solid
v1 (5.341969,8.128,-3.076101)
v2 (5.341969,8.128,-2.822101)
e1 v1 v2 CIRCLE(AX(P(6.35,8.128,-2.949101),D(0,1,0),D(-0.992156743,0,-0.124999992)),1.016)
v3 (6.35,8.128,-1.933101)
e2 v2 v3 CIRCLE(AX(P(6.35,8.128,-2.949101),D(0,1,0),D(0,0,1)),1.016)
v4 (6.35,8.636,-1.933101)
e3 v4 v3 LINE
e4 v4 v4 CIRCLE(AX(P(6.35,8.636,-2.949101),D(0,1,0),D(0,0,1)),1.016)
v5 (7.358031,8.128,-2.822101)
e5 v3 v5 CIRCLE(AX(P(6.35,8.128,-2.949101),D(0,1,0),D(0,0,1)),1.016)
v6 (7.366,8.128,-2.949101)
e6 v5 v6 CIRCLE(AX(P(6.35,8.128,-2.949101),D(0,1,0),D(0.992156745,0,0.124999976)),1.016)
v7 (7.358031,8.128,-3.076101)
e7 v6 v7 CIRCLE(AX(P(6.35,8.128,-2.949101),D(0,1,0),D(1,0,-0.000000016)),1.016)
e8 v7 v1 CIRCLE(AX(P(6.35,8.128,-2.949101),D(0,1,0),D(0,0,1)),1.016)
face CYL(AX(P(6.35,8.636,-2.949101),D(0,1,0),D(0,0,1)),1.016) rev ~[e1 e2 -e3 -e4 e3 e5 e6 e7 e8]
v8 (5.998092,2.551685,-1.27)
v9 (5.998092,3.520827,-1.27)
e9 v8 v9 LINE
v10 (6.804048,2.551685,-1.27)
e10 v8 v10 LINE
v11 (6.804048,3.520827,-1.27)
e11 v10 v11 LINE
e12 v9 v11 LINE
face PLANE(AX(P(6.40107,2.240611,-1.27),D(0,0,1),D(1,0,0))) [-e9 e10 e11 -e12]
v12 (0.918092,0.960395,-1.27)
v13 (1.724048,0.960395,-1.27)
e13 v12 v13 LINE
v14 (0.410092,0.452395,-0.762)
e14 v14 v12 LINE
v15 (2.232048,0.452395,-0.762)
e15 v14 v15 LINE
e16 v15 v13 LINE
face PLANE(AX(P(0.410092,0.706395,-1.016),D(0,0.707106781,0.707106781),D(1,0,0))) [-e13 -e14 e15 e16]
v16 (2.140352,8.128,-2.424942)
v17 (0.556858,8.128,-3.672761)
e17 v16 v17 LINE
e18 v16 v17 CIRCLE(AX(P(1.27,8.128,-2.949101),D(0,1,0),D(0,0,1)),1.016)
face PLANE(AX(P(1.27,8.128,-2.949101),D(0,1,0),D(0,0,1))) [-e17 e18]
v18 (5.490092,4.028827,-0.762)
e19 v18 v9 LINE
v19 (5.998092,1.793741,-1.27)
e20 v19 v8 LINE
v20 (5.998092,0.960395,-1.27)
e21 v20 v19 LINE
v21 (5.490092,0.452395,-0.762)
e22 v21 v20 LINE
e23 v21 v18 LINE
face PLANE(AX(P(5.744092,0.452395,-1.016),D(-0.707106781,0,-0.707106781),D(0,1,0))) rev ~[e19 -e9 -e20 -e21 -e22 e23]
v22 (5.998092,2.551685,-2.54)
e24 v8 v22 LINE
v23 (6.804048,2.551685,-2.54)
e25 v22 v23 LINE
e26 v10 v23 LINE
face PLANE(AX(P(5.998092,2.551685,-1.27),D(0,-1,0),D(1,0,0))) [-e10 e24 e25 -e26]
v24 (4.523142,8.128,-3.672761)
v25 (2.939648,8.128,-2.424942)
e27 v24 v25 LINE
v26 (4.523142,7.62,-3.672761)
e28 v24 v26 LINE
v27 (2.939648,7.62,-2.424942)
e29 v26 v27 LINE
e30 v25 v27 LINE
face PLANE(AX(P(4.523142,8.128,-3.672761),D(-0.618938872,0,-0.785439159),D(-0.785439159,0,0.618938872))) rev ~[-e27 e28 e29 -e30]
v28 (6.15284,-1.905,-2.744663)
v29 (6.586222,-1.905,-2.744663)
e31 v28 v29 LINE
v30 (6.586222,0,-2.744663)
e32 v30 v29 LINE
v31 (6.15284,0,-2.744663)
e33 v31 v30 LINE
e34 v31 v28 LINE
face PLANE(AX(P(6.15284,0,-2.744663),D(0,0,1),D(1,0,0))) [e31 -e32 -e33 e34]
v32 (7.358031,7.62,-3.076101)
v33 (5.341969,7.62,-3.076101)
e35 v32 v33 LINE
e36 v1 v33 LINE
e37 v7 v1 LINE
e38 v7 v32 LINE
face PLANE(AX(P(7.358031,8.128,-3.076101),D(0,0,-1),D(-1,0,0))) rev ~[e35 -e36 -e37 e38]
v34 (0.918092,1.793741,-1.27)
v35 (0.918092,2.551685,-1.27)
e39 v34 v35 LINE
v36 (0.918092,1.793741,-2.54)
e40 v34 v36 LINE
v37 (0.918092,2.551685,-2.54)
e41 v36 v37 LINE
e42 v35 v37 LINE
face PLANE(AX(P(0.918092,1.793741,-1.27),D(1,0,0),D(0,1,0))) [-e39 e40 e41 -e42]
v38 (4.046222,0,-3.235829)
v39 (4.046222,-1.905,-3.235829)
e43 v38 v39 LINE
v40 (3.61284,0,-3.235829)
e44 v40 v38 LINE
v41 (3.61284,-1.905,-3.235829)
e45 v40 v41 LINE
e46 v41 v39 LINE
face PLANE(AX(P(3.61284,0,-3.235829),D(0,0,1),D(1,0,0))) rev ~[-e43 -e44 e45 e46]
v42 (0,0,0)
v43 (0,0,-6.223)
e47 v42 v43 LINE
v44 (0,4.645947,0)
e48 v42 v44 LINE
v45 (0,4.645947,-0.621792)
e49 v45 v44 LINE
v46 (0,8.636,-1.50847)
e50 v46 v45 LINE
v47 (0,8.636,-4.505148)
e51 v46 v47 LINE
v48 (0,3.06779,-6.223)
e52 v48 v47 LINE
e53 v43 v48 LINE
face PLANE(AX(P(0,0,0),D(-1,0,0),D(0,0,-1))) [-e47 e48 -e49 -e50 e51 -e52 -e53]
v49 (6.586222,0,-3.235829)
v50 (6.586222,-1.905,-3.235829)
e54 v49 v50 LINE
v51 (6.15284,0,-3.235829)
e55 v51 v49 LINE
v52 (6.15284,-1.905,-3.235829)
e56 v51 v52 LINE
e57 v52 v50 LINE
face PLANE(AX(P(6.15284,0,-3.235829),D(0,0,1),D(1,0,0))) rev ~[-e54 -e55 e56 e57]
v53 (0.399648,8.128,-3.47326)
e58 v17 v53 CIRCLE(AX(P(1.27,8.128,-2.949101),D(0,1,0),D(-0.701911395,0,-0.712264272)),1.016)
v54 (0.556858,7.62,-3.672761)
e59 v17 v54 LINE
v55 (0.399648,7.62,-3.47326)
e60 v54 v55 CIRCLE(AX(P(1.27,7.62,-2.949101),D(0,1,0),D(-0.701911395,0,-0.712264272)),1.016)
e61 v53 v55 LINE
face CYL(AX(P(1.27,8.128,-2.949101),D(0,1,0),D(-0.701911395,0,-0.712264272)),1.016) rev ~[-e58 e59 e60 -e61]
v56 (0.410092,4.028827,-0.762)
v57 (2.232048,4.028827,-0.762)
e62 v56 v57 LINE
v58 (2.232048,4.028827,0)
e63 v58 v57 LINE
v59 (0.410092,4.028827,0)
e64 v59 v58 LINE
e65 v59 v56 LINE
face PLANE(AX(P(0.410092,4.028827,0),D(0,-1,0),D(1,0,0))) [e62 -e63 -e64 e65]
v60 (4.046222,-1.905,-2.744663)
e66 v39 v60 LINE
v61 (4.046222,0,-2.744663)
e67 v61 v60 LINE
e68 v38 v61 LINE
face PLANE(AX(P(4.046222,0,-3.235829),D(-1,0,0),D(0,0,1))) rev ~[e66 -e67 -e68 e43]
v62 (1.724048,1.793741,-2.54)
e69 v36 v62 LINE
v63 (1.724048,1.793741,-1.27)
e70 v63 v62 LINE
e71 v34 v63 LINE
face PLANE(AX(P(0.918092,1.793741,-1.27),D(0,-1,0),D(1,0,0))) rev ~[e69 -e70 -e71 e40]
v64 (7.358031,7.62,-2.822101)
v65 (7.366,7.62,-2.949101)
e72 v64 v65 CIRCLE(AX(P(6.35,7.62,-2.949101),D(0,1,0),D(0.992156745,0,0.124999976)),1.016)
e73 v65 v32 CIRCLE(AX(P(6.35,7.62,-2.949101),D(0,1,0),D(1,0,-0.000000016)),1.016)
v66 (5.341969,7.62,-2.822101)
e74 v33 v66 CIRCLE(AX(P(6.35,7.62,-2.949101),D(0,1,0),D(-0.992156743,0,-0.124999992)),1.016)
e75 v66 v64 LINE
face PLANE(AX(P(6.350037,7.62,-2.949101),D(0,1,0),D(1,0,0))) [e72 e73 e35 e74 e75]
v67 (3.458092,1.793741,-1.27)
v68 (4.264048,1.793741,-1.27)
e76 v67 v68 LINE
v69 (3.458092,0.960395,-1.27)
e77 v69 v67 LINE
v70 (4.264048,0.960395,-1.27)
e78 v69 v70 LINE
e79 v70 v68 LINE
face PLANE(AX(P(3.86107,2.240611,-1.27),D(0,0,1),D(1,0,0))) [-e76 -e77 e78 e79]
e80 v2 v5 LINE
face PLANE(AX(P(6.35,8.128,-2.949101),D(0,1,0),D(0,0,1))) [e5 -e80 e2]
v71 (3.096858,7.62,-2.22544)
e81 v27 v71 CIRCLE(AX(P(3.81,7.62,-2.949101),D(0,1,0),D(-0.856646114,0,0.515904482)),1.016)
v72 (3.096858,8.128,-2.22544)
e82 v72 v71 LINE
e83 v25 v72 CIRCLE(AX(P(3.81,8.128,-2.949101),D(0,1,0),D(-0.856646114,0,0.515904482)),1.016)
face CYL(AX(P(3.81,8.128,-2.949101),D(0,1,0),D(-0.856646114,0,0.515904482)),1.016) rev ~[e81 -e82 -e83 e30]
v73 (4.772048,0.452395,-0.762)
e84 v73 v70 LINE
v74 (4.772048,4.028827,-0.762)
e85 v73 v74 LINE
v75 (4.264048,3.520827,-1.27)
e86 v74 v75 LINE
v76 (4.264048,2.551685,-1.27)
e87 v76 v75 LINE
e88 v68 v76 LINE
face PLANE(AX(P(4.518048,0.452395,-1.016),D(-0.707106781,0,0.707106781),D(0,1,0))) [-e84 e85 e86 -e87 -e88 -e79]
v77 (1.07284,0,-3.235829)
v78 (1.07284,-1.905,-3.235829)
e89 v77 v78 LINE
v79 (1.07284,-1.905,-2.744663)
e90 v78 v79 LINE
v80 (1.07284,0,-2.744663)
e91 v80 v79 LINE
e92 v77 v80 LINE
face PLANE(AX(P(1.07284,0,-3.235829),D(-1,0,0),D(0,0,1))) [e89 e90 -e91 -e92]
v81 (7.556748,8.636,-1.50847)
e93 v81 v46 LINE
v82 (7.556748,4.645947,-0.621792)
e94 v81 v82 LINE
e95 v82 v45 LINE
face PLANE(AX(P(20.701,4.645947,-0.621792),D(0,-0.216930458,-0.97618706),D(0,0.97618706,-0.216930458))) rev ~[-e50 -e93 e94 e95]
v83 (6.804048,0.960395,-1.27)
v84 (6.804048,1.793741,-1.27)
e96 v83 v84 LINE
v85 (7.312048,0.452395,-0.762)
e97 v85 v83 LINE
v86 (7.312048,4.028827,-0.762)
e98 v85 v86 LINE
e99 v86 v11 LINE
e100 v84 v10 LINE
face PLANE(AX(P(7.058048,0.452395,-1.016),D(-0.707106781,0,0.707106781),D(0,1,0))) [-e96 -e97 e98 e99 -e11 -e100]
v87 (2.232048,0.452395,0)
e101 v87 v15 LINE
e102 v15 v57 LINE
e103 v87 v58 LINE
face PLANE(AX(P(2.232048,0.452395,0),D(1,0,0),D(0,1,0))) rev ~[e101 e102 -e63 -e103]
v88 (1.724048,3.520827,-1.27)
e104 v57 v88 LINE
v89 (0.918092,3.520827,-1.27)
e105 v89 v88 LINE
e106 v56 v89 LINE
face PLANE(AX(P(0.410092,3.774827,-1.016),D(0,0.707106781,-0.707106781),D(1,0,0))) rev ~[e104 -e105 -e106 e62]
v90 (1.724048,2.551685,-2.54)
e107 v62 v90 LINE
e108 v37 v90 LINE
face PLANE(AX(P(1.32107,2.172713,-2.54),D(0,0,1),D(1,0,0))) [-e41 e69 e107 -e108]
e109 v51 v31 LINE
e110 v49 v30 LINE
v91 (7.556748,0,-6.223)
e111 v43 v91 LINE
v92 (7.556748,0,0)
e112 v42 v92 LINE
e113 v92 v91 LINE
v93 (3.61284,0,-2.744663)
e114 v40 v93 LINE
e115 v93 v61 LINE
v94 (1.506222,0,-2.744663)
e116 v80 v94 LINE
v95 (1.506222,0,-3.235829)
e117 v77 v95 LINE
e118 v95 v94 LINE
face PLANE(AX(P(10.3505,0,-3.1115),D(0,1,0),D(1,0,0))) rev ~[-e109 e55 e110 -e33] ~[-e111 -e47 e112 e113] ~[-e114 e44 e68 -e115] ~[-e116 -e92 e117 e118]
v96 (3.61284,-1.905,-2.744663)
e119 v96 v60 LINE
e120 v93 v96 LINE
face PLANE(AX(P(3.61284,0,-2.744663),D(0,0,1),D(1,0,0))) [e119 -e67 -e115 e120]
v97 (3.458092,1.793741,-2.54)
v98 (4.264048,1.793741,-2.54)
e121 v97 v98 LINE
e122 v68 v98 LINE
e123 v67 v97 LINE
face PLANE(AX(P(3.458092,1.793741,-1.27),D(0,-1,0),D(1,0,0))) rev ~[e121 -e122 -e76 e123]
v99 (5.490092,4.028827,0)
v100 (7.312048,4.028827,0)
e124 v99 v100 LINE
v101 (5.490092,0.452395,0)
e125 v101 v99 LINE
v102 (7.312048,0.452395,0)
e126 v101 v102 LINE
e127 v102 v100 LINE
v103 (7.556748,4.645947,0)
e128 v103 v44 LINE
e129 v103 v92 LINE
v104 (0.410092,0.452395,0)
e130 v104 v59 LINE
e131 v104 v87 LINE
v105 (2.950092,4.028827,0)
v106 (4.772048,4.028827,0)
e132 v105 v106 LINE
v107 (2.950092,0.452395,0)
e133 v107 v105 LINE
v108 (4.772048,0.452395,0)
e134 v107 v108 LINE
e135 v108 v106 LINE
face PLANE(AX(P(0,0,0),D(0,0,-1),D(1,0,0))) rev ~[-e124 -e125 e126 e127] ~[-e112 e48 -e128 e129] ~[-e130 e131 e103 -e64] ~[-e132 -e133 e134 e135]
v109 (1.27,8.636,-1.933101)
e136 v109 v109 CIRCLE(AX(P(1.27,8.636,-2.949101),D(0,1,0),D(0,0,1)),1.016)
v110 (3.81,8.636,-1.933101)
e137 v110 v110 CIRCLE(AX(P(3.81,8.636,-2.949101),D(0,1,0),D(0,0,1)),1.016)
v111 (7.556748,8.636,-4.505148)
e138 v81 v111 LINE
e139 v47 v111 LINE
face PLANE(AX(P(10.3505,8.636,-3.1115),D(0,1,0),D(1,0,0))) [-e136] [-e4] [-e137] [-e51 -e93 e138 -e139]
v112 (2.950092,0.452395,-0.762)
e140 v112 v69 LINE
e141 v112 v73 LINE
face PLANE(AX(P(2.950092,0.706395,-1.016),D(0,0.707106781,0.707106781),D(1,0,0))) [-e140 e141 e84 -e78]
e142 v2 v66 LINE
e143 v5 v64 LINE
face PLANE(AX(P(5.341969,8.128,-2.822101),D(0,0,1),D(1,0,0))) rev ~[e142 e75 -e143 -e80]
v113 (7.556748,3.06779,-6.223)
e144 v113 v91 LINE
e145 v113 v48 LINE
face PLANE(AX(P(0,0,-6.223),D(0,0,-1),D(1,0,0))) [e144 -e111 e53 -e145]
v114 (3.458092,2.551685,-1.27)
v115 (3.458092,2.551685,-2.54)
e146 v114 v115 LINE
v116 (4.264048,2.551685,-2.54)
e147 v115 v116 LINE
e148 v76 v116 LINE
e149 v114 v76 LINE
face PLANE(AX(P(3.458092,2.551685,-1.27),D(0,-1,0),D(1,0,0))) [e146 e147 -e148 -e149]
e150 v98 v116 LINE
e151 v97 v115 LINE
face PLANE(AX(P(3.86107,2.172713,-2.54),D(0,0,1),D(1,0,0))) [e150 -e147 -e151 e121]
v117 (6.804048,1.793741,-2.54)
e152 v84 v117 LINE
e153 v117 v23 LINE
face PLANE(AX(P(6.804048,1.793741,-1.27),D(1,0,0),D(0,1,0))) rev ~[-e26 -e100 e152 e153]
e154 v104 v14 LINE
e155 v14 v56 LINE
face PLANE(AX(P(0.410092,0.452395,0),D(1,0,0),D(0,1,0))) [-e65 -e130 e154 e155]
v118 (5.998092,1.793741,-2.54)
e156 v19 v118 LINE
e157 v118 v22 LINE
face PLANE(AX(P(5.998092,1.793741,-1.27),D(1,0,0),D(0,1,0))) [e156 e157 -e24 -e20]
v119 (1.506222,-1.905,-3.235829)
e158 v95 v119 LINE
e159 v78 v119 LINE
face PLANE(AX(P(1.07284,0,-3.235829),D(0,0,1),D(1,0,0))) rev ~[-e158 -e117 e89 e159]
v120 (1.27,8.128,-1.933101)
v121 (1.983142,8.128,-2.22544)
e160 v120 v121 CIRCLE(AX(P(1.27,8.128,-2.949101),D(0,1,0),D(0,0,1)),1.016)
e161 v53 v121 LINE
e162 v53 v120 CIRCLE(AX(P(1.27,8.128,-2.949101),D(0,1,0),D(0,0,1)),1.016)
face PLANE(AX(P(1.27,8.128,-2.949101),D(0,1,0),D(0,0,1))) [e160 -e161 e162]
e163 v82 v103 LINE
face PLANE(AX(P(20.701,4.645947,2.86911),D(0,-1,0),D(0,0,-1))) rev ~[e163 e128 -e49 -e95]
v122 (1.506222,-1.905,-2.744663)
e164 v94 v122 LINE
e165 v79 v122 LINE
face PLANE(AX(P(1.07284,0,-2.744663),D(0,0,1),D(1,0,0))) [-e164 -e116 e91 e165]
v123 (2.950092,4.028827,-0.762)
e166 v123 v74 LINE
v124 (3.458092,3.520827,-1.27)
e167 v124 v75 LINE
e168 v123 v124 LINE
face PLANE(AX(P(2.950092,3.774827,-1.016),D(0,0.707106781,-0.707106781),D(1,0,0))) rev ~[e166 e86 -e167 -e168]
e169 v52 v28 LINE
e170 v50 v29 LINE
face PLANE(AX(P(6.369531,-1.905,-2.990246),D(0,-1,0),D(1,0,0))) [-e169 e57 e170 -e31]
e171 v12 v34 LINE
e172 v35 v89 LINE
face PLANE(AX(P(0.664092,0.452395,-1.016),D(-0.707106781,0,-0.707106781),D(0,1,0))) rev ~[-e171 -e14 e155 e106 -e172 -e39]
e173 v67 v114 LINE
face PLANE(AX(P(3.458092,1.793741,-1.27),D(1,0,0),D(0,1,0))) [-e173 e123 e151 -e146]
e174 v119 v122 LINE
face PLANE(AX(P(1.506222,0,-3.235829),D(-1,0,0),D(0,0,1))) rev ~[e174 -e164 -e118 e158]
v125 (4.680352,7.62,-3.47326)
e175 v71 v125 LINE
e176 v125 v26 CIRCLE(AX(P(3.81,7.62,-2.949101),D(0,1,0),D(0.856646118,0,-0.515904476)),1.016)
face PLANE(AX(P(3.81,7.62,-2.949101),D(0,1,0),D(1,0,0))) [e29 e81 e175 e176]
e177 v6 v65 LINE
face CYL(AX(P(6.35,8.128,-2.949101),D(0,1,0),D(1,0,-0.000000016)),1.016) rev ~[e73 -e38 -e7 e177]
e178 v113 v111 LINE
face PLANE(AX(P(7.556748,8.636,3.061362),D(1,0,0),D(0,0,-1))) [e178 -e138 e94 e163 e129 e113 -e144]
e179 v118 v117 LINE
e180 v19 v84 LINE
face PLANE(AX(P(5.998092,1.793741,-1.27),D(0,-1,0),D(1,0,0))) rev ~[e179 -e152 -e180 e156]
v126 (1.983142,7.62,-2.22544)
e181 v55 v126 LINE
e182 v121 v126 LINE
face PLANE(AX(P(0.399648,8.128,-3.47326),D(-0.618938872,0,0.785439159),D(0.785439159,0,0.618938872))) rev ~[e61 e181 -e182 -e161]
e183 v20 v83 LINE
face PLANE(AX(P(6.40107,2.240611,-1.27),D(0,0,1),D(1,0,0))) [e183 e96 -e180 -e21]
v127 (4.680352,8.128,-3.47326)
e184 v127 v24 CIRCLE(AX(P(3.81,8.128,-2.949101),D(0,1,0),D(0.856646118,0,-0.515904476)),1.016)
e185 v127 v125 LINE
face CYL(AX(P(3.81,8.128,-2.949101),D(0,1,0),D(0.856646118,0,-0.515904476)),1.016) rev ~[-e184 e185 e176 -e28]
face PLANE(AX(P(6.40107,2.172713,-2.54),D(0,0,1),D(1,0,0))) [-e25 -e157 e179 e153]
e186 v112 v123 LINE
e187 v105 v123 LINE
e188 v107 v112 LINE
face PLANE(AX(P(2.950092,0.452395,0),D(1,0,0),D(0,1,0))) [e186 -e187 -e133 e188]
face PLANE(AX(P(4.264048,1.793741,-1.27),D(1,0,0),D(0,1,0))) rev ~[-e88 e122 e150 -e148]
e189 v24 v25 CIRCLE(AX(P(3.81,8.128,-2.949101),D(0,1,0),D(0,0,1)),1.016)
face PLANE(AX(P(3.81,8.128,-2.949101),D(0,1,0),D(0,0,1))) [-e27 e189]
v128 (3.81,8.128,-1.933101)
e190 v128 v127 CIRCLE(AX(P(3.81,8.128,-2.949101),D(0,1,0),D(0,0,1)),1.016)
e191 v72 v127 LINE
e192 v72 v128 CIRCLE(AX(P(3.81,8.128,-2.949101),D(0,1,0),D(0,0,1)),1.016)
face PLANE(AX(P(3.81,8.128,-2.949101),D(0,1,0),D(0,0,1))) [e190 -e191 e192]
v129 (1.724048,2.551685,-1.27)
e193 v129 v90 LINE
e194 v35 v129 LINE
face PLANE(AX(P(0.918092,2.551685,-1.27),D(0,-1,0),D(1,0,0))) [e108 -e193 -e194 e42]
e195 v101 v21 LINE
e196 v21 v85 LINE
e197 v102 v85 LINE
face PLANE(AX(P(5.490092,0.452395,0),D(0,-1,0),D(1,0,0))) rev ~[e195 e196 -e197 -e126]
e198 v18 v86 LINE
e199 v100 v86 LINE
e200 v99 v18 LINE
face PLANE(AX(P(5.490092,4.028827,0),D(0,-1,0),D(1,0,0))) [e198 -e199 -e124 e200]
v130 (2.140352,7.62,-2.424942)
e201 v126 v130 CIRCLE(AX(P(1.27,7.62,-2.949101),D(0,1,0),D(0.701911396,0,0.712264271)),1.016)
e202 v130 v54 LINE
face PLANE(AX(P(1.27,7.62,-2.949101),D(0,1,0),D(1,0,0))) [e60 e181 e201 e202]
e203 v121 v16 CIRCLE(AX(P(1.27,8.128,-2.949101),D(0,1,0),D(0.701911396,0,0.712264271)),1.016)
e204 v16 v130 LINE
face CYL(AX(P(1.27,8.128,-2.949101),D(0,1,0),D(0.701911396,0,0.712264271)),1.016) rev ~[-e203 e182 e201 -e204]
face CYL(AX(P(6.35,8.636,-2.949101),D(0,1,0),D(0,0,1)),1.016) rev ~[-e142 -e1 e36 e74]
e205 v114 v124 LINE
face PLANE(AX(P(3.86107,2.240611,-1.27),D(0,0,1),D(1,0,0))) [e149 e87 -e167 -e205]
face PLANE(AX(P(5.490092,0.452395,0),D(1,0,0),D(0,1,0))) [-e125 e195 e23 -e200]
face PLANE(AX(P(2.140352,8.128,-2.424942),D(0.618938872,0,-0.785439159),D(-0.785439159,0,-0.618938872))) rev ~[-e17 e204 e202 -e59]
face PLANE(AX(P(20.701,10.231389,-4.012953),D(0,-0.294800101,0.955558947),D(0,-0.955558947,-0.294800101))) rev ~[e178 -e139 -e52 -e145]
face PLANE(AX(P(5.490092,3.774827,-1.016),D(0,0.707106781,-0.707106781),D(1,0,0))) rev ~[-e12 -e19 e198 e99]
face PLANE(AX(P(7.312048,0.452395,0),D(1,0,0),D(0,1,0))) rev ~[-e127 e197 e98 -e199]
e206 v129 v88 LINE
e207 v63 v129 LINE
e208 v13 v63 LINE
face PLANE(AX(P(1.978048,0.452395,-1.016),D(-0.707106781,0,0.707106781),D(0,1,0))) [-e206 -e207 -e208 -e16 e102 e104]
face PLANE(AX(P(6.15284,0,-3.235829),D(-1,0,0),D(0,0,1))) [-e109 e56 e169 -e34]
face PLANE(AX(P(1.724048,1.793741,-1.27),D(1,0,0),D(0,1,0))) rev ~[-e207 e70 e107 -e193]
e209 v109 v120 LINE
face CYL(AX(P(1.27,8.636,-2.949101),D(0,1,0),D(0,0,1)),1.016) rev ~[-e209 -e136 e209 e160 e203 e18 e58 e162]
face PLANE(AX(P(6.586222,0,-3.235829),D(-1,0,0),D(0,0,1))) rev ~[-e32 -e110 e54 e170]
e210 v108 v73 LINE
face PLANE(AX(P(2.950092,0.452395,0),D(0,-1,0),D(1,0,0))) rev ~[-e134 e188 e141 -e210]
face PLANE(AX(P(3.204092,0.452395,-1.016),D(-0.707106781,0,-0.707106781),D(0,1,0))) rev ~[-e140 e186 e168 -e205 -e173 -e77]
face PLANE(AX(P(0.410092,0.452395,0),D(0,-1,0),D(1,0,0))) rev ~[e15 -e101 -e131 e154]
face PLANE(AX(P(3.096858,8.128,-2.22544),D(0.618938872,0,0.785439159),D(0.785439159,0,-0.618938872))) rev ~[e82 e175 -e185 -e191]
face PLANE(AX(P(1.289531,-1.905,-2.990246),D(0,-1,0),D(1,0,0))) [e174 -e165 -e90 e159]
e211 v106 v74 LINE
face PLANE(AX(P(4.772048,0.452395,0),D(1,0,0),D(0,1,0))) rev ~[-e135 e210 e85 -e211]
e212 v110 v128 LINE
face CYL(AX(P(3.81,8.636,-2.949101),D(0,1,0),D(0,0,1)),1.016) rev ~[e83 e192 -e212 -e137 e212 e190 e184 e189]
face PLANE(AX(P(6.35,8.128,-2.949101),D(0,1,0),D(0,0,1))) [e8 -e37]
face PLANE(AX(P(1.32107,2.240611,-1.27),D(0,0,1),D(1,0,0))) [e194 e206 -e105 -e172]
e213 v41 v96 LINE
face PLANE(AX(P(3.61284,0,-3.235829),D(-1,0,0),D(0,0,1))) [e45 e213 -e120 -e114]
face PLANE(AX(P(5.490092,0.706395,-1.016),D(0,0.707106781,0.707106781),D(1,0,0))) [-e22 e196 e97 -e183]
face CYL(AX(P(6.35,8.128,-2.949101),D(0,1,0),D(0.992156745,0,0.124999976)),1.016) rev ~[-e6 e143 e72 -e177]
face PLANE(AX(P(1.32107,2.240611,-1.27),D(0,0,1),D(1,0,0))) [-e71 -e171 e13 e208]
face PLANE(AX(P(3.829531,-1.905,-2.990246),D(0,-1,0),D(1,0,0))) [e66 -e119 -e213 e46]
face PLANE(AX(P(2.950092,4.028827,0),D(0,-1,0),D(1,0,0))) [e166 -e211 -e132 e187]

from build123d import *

# Parameters (mm, degrees)
SKETCH1_W          = 20.701
SKETCH1_H          = 6.223
EXTRUDE1_DEPTH     = 8.636
CUT_EXTRUDE1_DEPTH = 25.4
CUT_EXTRUDE2_DEPTH = 25.4
SKETCH4_R          = 1.016
CUT_EXTRUDE3_DEPTH = 0.508
CUT_EXTRUDE4_DEPTH = 0.508
SKETCH6_W          = 1.82195604
SKETCH6_H          = 3.576432228
CUT_EXTRUDE5_DEPTH = 1.27
CHAMFER1_SIZE      = 0.508
SKETCH7_W          = 0.80595604
SKETCH7_H          = 0.757943843
CUT_EXTRUDE6_DEPTH = 1.27
SKETCH8_W          = 0.433382436
SKETCH8_H          = 0.491166761
EXTRUDE2_DEPTH     = 1.905
SKETCH9_W          = 13.835725518
SKETCH9_H          = 11.068580414
CUT_EXTRUDE7_DEPTH = 25.4


with BuildPart() as part:
    # Sketch1 → Extrude1 (new body)
    with BuildSketch(Plane(origin=(0, 0, 0), x_dir=(1, 0, 0), z_dir=(0, 1, 0))):
        with Locations((10.3505, 3.1115)):
            Rectangle(SKETCH1_W, SKETCH1_H)
    extrude(amount=EXTRUDE1_DEPTH)

    # Sketch2 → Cut-Extrude1 (cut)
    with BuildSketch(Plane(origin=(20.701, 0, 0), x_dir=(0, 0, -1), z_dir=(1, 0, 0))):
        Polygon((-2.869110069, 4.645946632), (0.62179162, 4.645946632), (2.217632392, 11.827230107), (-2.869110069, 11.827230107), align=None)
    extrude(amount=-CUT_EXTRUDE1_DEPTH, mode=Mode.SUBTRACT)

    # Sketch3 → Cut-Extrude2 (cut)
    with BuildSketch(Plane(origin=(20.701, 0, 0), x_dir=(0, 0, -1), z_dir=(1, 0, 0))):
        Polygon((4.012953261, 10.231389335), (6.905414661, 0.855824797), (9.199435771, 0.855824797), (9.199435771, 10.231389335), align=None)
    extrude(amount=-CUT_EXTRUDE2_DEPTH, mode=Mode.SUBTRACT)

    # Sketch4 → Cut-Extrude3 (cut)
    with BuildSketch(Plane(origin=(0, 8.636, 0), x_dir=(1, 0, 0), z_dir=(0, 1, 0))):
        with Locations(Location((1.27, 2.949100672, 0), (0, 0, 270))):
            Circle(SKETCH4_R)
        with Locations(Location((3.81, 2.949100672, 0), (0, 0, 270))):
            Circle(SKETCH4_R)
        with Locations(Location((6.35, 2.949100672, 0), (0, 0, 270))):
            Circle(SKETCH4_R)
        with Locations(Location((8.89, 2.949100672, 0), (0, 0, 270))):
            Circle(SKETCH4_R)
        with Locations(Location((11.43, 2.949100672, 0), (0, 0, 270))):
            Circle(SKETCH4_R)
        with Locations(Location((13.97, 2.949100672, 0), (0, 0, 270))):
            Circle(SKETCH4_R)
        with Locations(Location((16.51, 2.949100672, 0), (0, 0, 270))):
            Circle(SKETCH4_R)
        with Locations(Location((19.05, 2.949100672, 0), (0, 0, 270))):
            Circle(SKETCH4_R)
    extrude(amount=-CUT_EXTRUDE3_DEPTH, mode=Mode.SUBTRACT)

    # Sketch5 → Cut-Extrude4 (cut)
    with BuildSketch(Plane(origin=(0, 8.128, 0), x_dir=(1, 0, 0), z_dir=(0, 1, 0))):
        with BuildLine():
            ThreePointArc((0.55685802, 3.67276117), (0.471993814, 3.577942566), (0.399647546, 3.473259623))
            Line((0.399647546, 3.473259623), (1.98314198, 2.225440174))
            ThreePointArc((1.98314198, 2.225440174), (2.068006186, 2.320258778), (2.140352454, 2.42494172))
            Line((2.140352454, 2.42494172), (0.55685802, 3.67276117))
        make_face()
        with BuildLine():
            ThreePointArc((2.939647546, 2.42494172), (3.011993814, 2.320258778), (3.09685802, 2.225440174))
            Line((3.09685802, 2.225440174), (4.680352454, 3.473259623))
            ThreePointArc((4.680352454, 3.473259623), (4.608006186, 3.577942566), (4.52314198, 3.67276117))
            Line((4.52314198, 3.67276117), (2.939647546, 2.42494172))
        make_face()
        with BuildLine():
            ThreePointArc((5.34196875, 3.076100672), (5.334, 2.949100672), (5.34196875, 2.822100672))
            Line((5.34196875, 2.822100672), (7.35803125, 2.822100672))
            ThreePointArc((7.35803125, 2.822100672), (7.364005855, 2.885475793), (7.366, 2.949100672))
            ThreePointArc((7.366, 2.949100672), (7.364005855, 3.012725551), (7.35803125, 3.076100672))
            Line((7.35803125, 3.076100672), (5.34196875, 3.076100672))
        make_face()
        with BuildLine():
            ThreePointArc((8.458529789, 2.041483422), (8.576688012, 1.994233554), (8.699870069, 1.9622946))
            Line((8.699870069, 1.9622946), (9.321470211, 3.856717921))
            ThreePointArc((9.321470211, 3.856717921), (9.203311988, 3.90396779), (9.080129931, 3.935906744))
            Line((9.080129931, 3.935906744), (8.458529789, 2.041483422))
        make_face()
        with BuildLine():
            ThreePointArc((11.557, 3.957131921), (11.43, 3.965100672), (11.303, 3.957131921))
            Line((11.303, 3.957131921), (11.303, 1.941069422))
            ThreePointArc((11.303, 1.941069422), (11.43, 1.933100672), (11.557, 1.941069422))
            Line((11.557, 1.941069422), (11.557, 3.957131921))
        make_face()
        with BuildLine():
            ThreePointArc((13.060727808, 3.402399778), (13.011197076, 3.285185412), (12.976706622, 3.162699047))
            Line((12.976706622, 3.162699047), (14.879272192, 2.495801565))
            ThreePointArc((14.879272192, 2.495801565), (14.928802924, 2.613015931), (14.963293378, 2.735502296))
            Line((14.963293378, 2.735502296), (13.060727808, 3.402399778))
        make_face()
        with BuildLine():
            ThreePointArc((16.944941036, 3.867295801), (16.826755289, 3.914461789), (16.703600756, 3.946484624))
            Line((16.703600756, 3.946484624), (16.075058964, 2.030905542))
            ThreePointArc((16.075058964, 2.030905542), (16.193244711, 1.983739555), (16.316399244, 1.95171672))
            Line((16.316399244, 1.95171672), (16.944941036, 3.867295801))
        make_face()
        with BuildLine():
            ThreePointArc((18.349819557, 3.662547267), (18.264852019, 3.567810091), (18.192609083, 3.463045721))
            Line((18.192609083, 3.463045721), (19.750180443, 2.235654077))
            ThreePointArc((19.750180443, 2.235654077), (19.835147981, 2.330391253), (19.907390917, 2.435155623))
            Line((19.907390917, 2.435155623), (18.349819557, 3.662547267))
        make_face()
    extrude(amount=-CUT_EXTRUDE4_DEPTH, mode=Mode.SUBTRACT)

    # Sketch6 → Cut-Extrude5 (cut)
    with BuildSketch(Plane.XY):
        with Locations((3.861070401, 2.24061075)):
            Rectangle(SKETCH6_W, SKETCH6_H)
        with Locations((1.321070401, 2.24061075)):
            Rectangle(SKETCH6_W, SKETCH6_H)
        with Locations((6.401070401, 2.24061075)):
            Rectangle(SKETCH6_W, SKETCH6_H)
        with Locations((8.941070401, 2.24061075)):
            Rectangle(SKETCH6_W, SKETCH6_H)
        with Locations((11.481070401, 2.24061075)):
            Rectangle(SKETCH6_W, SKETCH6_H)
        with Locations((14.021070401, 2.24061075)):
            Rectangle(SKETCH6_W, SKETCH6_H)
        with Locations((16.561070401, 2.24061075)):
            Rectangle(SKETCH6_W, SKETCH6_H)
        with Locations((19.101070401, 2.24061075)):
            Rectangle(SKETCH6_W, SKETCH6_H)
    extrude(amount=-CUT_EXTRUDE5_DEPTH, mode=Mode.SUBTRACT)

    # Chamfer1
    chamfer1_edges = [part.edges().sort_by_distance(p)[0] for p in [
        (0.410092381, 2.24061075, -1.27),
        (1.321070401, 4.028826864, -1.27),
        (2.232048421, 2.24061075, -1.27),
        (1.321070401, 0.452394636, -1.27),
        (3.861070401, 4.028826864, -1.27),
        (4.772048421, 2.24061075, -1.27),
        (3.861070401, 0.452394636, -1.27),
        (2.950092381, 2.24061075, -1.27),
        (6.401070401, 4.028826864, -1.27),
        (7.312048421, 2.24061075, -1.27),
        (6.401070401, 0.452394636, -1.27),
        (5.490092381, 2.24061075, -1.27),
        (8.941070401, 4.028826864, -1.27),
        (9.852048421, 2.24061075, -1.27),
        (8.941070401, 0.452394636, -1.27),
        (8.030092381, 2.24061075, -1.27),
        (11.481070401, 4.028826864, -1.27),
        (12.392048421, 2.24061075, -1.27),
        (11.481070401, 0.452394636, -1.27),
        (10.570092381, 2.24061075, -1.27),
        (14.021070401, 4.028826864, -1.27),
        (14.932048421, 2.24061075, -1.27),
        (14.021070401, 0.452394636, -1.27),
        (13.110092381, 2.24061075, -1.27),
        (16.561070401, 4.028826864, -1.27),
        (17.472048421, 2.24061075, -1.27),
        (16.561070401, 0.452394636, -1.27),
        (15.650092381, 2.24061075, -1.27),
        (19.101070401, 4.028826864, -1.27),
        (20.012048421, 2.24061075, -1.27),
        (19.101070401, 0.452394636, -1.27),
        (18.190092381, 2.24061075, -1.27),
    ]]
    chamfer(chamfer1_edges, length=CHAMFER1_SIZE)

    # Sketch7 → Cut-Extrude6 (cut)
    with BuildSketch(Plane.XY.offset(-1.27)):
        with Locations((1.321070401, 2.17271271)):
            Rectangle(SKETCH7_W, SKETCH7_H)
        with Locations((3.861070401, 2.17271271)):
            Rectangle(SKETCH7_W, SKETCH7_H)
        with Locations((6.401070401, 2.17271271)):
            Rectangle(SKETCH7_W, SKETCH7_H)
        with Locations((8.941070401, 2.17271271)):
            Rectangle(SKETCH7_W, SKETCH7_H)
        with Locations((11.481070401, 2.17271271)):
            Rectangle(SKETCH7_W, SKETCH7_H)
        with Locations((14.021070401, 2.17271271)):
            Rectangle(SKETCH7_W, SKETCH7_H)
        with Locations((16.561070401, 2.17271271)):
            Rectangle(SKETCH7_W, SKETCH7_H)
        with Locations((19.101070401, 2.17271271)):
            Rectangle(SKETCH7_W, SKETCH7_H)
    extrude(amount=-CUT_EXTRUDE6_DEPTH, mode=Mode.SUBTRACT)

    # Sketch8 → Extrude2 (add)
    with BuildSketch(Plane.XZ):
        with Locations((3.829530977, -2.990246105)):
            Rectangle(SKETCH8_W, SKETCH8_H)
        with Locations((1.289530977, -2.990246105)):
            Rectangle(SKETCH8_W, SKETCH8_H)
        with Locations((6.369530977, -2.990246105)):
            Rectangle(SKETCH8_W, SKETCH8_H)
        with Locations((8.909530977, -2.990246105)):
            Rectangle(SKETCH8_W, SKETCH8_H)
        with Locations((11.449530977, -2.990246105)):
            Rectangle(SKETCH8_W, SKETCH8_H)
        with Locations((13.989530977, -2.990246105)):
            Rectangle(SKETCH8_W, SKETCH8_H)
        with Locations((16.529530977, -2.990246105)):
            Rectangle(SKETCH8_W, SKETCH8_H)
        with Locations((19.069530977, -2.990246105)):
            Rectangle(SKETCH8_W, SKETCH8_H)
    extrude(amount=EXTRUDE2_DEPTH)

    # Sketch9 → Cut-Extrude7 (cut)
    with BuildSketch(Plane(origin=(0, 8.636, 0), x_dir=(1, 0, 0), z_dir=(0, 1, 0))):
        with Locations((14.474610491, 2.472928053)):
            Rectangle(SKETCH9_W, SKETCH9_H)
    extrude(amount=-CUT_EXTRUDE7_DEPTH, mode=Mode.SUBTRACT)


solid = part.part
